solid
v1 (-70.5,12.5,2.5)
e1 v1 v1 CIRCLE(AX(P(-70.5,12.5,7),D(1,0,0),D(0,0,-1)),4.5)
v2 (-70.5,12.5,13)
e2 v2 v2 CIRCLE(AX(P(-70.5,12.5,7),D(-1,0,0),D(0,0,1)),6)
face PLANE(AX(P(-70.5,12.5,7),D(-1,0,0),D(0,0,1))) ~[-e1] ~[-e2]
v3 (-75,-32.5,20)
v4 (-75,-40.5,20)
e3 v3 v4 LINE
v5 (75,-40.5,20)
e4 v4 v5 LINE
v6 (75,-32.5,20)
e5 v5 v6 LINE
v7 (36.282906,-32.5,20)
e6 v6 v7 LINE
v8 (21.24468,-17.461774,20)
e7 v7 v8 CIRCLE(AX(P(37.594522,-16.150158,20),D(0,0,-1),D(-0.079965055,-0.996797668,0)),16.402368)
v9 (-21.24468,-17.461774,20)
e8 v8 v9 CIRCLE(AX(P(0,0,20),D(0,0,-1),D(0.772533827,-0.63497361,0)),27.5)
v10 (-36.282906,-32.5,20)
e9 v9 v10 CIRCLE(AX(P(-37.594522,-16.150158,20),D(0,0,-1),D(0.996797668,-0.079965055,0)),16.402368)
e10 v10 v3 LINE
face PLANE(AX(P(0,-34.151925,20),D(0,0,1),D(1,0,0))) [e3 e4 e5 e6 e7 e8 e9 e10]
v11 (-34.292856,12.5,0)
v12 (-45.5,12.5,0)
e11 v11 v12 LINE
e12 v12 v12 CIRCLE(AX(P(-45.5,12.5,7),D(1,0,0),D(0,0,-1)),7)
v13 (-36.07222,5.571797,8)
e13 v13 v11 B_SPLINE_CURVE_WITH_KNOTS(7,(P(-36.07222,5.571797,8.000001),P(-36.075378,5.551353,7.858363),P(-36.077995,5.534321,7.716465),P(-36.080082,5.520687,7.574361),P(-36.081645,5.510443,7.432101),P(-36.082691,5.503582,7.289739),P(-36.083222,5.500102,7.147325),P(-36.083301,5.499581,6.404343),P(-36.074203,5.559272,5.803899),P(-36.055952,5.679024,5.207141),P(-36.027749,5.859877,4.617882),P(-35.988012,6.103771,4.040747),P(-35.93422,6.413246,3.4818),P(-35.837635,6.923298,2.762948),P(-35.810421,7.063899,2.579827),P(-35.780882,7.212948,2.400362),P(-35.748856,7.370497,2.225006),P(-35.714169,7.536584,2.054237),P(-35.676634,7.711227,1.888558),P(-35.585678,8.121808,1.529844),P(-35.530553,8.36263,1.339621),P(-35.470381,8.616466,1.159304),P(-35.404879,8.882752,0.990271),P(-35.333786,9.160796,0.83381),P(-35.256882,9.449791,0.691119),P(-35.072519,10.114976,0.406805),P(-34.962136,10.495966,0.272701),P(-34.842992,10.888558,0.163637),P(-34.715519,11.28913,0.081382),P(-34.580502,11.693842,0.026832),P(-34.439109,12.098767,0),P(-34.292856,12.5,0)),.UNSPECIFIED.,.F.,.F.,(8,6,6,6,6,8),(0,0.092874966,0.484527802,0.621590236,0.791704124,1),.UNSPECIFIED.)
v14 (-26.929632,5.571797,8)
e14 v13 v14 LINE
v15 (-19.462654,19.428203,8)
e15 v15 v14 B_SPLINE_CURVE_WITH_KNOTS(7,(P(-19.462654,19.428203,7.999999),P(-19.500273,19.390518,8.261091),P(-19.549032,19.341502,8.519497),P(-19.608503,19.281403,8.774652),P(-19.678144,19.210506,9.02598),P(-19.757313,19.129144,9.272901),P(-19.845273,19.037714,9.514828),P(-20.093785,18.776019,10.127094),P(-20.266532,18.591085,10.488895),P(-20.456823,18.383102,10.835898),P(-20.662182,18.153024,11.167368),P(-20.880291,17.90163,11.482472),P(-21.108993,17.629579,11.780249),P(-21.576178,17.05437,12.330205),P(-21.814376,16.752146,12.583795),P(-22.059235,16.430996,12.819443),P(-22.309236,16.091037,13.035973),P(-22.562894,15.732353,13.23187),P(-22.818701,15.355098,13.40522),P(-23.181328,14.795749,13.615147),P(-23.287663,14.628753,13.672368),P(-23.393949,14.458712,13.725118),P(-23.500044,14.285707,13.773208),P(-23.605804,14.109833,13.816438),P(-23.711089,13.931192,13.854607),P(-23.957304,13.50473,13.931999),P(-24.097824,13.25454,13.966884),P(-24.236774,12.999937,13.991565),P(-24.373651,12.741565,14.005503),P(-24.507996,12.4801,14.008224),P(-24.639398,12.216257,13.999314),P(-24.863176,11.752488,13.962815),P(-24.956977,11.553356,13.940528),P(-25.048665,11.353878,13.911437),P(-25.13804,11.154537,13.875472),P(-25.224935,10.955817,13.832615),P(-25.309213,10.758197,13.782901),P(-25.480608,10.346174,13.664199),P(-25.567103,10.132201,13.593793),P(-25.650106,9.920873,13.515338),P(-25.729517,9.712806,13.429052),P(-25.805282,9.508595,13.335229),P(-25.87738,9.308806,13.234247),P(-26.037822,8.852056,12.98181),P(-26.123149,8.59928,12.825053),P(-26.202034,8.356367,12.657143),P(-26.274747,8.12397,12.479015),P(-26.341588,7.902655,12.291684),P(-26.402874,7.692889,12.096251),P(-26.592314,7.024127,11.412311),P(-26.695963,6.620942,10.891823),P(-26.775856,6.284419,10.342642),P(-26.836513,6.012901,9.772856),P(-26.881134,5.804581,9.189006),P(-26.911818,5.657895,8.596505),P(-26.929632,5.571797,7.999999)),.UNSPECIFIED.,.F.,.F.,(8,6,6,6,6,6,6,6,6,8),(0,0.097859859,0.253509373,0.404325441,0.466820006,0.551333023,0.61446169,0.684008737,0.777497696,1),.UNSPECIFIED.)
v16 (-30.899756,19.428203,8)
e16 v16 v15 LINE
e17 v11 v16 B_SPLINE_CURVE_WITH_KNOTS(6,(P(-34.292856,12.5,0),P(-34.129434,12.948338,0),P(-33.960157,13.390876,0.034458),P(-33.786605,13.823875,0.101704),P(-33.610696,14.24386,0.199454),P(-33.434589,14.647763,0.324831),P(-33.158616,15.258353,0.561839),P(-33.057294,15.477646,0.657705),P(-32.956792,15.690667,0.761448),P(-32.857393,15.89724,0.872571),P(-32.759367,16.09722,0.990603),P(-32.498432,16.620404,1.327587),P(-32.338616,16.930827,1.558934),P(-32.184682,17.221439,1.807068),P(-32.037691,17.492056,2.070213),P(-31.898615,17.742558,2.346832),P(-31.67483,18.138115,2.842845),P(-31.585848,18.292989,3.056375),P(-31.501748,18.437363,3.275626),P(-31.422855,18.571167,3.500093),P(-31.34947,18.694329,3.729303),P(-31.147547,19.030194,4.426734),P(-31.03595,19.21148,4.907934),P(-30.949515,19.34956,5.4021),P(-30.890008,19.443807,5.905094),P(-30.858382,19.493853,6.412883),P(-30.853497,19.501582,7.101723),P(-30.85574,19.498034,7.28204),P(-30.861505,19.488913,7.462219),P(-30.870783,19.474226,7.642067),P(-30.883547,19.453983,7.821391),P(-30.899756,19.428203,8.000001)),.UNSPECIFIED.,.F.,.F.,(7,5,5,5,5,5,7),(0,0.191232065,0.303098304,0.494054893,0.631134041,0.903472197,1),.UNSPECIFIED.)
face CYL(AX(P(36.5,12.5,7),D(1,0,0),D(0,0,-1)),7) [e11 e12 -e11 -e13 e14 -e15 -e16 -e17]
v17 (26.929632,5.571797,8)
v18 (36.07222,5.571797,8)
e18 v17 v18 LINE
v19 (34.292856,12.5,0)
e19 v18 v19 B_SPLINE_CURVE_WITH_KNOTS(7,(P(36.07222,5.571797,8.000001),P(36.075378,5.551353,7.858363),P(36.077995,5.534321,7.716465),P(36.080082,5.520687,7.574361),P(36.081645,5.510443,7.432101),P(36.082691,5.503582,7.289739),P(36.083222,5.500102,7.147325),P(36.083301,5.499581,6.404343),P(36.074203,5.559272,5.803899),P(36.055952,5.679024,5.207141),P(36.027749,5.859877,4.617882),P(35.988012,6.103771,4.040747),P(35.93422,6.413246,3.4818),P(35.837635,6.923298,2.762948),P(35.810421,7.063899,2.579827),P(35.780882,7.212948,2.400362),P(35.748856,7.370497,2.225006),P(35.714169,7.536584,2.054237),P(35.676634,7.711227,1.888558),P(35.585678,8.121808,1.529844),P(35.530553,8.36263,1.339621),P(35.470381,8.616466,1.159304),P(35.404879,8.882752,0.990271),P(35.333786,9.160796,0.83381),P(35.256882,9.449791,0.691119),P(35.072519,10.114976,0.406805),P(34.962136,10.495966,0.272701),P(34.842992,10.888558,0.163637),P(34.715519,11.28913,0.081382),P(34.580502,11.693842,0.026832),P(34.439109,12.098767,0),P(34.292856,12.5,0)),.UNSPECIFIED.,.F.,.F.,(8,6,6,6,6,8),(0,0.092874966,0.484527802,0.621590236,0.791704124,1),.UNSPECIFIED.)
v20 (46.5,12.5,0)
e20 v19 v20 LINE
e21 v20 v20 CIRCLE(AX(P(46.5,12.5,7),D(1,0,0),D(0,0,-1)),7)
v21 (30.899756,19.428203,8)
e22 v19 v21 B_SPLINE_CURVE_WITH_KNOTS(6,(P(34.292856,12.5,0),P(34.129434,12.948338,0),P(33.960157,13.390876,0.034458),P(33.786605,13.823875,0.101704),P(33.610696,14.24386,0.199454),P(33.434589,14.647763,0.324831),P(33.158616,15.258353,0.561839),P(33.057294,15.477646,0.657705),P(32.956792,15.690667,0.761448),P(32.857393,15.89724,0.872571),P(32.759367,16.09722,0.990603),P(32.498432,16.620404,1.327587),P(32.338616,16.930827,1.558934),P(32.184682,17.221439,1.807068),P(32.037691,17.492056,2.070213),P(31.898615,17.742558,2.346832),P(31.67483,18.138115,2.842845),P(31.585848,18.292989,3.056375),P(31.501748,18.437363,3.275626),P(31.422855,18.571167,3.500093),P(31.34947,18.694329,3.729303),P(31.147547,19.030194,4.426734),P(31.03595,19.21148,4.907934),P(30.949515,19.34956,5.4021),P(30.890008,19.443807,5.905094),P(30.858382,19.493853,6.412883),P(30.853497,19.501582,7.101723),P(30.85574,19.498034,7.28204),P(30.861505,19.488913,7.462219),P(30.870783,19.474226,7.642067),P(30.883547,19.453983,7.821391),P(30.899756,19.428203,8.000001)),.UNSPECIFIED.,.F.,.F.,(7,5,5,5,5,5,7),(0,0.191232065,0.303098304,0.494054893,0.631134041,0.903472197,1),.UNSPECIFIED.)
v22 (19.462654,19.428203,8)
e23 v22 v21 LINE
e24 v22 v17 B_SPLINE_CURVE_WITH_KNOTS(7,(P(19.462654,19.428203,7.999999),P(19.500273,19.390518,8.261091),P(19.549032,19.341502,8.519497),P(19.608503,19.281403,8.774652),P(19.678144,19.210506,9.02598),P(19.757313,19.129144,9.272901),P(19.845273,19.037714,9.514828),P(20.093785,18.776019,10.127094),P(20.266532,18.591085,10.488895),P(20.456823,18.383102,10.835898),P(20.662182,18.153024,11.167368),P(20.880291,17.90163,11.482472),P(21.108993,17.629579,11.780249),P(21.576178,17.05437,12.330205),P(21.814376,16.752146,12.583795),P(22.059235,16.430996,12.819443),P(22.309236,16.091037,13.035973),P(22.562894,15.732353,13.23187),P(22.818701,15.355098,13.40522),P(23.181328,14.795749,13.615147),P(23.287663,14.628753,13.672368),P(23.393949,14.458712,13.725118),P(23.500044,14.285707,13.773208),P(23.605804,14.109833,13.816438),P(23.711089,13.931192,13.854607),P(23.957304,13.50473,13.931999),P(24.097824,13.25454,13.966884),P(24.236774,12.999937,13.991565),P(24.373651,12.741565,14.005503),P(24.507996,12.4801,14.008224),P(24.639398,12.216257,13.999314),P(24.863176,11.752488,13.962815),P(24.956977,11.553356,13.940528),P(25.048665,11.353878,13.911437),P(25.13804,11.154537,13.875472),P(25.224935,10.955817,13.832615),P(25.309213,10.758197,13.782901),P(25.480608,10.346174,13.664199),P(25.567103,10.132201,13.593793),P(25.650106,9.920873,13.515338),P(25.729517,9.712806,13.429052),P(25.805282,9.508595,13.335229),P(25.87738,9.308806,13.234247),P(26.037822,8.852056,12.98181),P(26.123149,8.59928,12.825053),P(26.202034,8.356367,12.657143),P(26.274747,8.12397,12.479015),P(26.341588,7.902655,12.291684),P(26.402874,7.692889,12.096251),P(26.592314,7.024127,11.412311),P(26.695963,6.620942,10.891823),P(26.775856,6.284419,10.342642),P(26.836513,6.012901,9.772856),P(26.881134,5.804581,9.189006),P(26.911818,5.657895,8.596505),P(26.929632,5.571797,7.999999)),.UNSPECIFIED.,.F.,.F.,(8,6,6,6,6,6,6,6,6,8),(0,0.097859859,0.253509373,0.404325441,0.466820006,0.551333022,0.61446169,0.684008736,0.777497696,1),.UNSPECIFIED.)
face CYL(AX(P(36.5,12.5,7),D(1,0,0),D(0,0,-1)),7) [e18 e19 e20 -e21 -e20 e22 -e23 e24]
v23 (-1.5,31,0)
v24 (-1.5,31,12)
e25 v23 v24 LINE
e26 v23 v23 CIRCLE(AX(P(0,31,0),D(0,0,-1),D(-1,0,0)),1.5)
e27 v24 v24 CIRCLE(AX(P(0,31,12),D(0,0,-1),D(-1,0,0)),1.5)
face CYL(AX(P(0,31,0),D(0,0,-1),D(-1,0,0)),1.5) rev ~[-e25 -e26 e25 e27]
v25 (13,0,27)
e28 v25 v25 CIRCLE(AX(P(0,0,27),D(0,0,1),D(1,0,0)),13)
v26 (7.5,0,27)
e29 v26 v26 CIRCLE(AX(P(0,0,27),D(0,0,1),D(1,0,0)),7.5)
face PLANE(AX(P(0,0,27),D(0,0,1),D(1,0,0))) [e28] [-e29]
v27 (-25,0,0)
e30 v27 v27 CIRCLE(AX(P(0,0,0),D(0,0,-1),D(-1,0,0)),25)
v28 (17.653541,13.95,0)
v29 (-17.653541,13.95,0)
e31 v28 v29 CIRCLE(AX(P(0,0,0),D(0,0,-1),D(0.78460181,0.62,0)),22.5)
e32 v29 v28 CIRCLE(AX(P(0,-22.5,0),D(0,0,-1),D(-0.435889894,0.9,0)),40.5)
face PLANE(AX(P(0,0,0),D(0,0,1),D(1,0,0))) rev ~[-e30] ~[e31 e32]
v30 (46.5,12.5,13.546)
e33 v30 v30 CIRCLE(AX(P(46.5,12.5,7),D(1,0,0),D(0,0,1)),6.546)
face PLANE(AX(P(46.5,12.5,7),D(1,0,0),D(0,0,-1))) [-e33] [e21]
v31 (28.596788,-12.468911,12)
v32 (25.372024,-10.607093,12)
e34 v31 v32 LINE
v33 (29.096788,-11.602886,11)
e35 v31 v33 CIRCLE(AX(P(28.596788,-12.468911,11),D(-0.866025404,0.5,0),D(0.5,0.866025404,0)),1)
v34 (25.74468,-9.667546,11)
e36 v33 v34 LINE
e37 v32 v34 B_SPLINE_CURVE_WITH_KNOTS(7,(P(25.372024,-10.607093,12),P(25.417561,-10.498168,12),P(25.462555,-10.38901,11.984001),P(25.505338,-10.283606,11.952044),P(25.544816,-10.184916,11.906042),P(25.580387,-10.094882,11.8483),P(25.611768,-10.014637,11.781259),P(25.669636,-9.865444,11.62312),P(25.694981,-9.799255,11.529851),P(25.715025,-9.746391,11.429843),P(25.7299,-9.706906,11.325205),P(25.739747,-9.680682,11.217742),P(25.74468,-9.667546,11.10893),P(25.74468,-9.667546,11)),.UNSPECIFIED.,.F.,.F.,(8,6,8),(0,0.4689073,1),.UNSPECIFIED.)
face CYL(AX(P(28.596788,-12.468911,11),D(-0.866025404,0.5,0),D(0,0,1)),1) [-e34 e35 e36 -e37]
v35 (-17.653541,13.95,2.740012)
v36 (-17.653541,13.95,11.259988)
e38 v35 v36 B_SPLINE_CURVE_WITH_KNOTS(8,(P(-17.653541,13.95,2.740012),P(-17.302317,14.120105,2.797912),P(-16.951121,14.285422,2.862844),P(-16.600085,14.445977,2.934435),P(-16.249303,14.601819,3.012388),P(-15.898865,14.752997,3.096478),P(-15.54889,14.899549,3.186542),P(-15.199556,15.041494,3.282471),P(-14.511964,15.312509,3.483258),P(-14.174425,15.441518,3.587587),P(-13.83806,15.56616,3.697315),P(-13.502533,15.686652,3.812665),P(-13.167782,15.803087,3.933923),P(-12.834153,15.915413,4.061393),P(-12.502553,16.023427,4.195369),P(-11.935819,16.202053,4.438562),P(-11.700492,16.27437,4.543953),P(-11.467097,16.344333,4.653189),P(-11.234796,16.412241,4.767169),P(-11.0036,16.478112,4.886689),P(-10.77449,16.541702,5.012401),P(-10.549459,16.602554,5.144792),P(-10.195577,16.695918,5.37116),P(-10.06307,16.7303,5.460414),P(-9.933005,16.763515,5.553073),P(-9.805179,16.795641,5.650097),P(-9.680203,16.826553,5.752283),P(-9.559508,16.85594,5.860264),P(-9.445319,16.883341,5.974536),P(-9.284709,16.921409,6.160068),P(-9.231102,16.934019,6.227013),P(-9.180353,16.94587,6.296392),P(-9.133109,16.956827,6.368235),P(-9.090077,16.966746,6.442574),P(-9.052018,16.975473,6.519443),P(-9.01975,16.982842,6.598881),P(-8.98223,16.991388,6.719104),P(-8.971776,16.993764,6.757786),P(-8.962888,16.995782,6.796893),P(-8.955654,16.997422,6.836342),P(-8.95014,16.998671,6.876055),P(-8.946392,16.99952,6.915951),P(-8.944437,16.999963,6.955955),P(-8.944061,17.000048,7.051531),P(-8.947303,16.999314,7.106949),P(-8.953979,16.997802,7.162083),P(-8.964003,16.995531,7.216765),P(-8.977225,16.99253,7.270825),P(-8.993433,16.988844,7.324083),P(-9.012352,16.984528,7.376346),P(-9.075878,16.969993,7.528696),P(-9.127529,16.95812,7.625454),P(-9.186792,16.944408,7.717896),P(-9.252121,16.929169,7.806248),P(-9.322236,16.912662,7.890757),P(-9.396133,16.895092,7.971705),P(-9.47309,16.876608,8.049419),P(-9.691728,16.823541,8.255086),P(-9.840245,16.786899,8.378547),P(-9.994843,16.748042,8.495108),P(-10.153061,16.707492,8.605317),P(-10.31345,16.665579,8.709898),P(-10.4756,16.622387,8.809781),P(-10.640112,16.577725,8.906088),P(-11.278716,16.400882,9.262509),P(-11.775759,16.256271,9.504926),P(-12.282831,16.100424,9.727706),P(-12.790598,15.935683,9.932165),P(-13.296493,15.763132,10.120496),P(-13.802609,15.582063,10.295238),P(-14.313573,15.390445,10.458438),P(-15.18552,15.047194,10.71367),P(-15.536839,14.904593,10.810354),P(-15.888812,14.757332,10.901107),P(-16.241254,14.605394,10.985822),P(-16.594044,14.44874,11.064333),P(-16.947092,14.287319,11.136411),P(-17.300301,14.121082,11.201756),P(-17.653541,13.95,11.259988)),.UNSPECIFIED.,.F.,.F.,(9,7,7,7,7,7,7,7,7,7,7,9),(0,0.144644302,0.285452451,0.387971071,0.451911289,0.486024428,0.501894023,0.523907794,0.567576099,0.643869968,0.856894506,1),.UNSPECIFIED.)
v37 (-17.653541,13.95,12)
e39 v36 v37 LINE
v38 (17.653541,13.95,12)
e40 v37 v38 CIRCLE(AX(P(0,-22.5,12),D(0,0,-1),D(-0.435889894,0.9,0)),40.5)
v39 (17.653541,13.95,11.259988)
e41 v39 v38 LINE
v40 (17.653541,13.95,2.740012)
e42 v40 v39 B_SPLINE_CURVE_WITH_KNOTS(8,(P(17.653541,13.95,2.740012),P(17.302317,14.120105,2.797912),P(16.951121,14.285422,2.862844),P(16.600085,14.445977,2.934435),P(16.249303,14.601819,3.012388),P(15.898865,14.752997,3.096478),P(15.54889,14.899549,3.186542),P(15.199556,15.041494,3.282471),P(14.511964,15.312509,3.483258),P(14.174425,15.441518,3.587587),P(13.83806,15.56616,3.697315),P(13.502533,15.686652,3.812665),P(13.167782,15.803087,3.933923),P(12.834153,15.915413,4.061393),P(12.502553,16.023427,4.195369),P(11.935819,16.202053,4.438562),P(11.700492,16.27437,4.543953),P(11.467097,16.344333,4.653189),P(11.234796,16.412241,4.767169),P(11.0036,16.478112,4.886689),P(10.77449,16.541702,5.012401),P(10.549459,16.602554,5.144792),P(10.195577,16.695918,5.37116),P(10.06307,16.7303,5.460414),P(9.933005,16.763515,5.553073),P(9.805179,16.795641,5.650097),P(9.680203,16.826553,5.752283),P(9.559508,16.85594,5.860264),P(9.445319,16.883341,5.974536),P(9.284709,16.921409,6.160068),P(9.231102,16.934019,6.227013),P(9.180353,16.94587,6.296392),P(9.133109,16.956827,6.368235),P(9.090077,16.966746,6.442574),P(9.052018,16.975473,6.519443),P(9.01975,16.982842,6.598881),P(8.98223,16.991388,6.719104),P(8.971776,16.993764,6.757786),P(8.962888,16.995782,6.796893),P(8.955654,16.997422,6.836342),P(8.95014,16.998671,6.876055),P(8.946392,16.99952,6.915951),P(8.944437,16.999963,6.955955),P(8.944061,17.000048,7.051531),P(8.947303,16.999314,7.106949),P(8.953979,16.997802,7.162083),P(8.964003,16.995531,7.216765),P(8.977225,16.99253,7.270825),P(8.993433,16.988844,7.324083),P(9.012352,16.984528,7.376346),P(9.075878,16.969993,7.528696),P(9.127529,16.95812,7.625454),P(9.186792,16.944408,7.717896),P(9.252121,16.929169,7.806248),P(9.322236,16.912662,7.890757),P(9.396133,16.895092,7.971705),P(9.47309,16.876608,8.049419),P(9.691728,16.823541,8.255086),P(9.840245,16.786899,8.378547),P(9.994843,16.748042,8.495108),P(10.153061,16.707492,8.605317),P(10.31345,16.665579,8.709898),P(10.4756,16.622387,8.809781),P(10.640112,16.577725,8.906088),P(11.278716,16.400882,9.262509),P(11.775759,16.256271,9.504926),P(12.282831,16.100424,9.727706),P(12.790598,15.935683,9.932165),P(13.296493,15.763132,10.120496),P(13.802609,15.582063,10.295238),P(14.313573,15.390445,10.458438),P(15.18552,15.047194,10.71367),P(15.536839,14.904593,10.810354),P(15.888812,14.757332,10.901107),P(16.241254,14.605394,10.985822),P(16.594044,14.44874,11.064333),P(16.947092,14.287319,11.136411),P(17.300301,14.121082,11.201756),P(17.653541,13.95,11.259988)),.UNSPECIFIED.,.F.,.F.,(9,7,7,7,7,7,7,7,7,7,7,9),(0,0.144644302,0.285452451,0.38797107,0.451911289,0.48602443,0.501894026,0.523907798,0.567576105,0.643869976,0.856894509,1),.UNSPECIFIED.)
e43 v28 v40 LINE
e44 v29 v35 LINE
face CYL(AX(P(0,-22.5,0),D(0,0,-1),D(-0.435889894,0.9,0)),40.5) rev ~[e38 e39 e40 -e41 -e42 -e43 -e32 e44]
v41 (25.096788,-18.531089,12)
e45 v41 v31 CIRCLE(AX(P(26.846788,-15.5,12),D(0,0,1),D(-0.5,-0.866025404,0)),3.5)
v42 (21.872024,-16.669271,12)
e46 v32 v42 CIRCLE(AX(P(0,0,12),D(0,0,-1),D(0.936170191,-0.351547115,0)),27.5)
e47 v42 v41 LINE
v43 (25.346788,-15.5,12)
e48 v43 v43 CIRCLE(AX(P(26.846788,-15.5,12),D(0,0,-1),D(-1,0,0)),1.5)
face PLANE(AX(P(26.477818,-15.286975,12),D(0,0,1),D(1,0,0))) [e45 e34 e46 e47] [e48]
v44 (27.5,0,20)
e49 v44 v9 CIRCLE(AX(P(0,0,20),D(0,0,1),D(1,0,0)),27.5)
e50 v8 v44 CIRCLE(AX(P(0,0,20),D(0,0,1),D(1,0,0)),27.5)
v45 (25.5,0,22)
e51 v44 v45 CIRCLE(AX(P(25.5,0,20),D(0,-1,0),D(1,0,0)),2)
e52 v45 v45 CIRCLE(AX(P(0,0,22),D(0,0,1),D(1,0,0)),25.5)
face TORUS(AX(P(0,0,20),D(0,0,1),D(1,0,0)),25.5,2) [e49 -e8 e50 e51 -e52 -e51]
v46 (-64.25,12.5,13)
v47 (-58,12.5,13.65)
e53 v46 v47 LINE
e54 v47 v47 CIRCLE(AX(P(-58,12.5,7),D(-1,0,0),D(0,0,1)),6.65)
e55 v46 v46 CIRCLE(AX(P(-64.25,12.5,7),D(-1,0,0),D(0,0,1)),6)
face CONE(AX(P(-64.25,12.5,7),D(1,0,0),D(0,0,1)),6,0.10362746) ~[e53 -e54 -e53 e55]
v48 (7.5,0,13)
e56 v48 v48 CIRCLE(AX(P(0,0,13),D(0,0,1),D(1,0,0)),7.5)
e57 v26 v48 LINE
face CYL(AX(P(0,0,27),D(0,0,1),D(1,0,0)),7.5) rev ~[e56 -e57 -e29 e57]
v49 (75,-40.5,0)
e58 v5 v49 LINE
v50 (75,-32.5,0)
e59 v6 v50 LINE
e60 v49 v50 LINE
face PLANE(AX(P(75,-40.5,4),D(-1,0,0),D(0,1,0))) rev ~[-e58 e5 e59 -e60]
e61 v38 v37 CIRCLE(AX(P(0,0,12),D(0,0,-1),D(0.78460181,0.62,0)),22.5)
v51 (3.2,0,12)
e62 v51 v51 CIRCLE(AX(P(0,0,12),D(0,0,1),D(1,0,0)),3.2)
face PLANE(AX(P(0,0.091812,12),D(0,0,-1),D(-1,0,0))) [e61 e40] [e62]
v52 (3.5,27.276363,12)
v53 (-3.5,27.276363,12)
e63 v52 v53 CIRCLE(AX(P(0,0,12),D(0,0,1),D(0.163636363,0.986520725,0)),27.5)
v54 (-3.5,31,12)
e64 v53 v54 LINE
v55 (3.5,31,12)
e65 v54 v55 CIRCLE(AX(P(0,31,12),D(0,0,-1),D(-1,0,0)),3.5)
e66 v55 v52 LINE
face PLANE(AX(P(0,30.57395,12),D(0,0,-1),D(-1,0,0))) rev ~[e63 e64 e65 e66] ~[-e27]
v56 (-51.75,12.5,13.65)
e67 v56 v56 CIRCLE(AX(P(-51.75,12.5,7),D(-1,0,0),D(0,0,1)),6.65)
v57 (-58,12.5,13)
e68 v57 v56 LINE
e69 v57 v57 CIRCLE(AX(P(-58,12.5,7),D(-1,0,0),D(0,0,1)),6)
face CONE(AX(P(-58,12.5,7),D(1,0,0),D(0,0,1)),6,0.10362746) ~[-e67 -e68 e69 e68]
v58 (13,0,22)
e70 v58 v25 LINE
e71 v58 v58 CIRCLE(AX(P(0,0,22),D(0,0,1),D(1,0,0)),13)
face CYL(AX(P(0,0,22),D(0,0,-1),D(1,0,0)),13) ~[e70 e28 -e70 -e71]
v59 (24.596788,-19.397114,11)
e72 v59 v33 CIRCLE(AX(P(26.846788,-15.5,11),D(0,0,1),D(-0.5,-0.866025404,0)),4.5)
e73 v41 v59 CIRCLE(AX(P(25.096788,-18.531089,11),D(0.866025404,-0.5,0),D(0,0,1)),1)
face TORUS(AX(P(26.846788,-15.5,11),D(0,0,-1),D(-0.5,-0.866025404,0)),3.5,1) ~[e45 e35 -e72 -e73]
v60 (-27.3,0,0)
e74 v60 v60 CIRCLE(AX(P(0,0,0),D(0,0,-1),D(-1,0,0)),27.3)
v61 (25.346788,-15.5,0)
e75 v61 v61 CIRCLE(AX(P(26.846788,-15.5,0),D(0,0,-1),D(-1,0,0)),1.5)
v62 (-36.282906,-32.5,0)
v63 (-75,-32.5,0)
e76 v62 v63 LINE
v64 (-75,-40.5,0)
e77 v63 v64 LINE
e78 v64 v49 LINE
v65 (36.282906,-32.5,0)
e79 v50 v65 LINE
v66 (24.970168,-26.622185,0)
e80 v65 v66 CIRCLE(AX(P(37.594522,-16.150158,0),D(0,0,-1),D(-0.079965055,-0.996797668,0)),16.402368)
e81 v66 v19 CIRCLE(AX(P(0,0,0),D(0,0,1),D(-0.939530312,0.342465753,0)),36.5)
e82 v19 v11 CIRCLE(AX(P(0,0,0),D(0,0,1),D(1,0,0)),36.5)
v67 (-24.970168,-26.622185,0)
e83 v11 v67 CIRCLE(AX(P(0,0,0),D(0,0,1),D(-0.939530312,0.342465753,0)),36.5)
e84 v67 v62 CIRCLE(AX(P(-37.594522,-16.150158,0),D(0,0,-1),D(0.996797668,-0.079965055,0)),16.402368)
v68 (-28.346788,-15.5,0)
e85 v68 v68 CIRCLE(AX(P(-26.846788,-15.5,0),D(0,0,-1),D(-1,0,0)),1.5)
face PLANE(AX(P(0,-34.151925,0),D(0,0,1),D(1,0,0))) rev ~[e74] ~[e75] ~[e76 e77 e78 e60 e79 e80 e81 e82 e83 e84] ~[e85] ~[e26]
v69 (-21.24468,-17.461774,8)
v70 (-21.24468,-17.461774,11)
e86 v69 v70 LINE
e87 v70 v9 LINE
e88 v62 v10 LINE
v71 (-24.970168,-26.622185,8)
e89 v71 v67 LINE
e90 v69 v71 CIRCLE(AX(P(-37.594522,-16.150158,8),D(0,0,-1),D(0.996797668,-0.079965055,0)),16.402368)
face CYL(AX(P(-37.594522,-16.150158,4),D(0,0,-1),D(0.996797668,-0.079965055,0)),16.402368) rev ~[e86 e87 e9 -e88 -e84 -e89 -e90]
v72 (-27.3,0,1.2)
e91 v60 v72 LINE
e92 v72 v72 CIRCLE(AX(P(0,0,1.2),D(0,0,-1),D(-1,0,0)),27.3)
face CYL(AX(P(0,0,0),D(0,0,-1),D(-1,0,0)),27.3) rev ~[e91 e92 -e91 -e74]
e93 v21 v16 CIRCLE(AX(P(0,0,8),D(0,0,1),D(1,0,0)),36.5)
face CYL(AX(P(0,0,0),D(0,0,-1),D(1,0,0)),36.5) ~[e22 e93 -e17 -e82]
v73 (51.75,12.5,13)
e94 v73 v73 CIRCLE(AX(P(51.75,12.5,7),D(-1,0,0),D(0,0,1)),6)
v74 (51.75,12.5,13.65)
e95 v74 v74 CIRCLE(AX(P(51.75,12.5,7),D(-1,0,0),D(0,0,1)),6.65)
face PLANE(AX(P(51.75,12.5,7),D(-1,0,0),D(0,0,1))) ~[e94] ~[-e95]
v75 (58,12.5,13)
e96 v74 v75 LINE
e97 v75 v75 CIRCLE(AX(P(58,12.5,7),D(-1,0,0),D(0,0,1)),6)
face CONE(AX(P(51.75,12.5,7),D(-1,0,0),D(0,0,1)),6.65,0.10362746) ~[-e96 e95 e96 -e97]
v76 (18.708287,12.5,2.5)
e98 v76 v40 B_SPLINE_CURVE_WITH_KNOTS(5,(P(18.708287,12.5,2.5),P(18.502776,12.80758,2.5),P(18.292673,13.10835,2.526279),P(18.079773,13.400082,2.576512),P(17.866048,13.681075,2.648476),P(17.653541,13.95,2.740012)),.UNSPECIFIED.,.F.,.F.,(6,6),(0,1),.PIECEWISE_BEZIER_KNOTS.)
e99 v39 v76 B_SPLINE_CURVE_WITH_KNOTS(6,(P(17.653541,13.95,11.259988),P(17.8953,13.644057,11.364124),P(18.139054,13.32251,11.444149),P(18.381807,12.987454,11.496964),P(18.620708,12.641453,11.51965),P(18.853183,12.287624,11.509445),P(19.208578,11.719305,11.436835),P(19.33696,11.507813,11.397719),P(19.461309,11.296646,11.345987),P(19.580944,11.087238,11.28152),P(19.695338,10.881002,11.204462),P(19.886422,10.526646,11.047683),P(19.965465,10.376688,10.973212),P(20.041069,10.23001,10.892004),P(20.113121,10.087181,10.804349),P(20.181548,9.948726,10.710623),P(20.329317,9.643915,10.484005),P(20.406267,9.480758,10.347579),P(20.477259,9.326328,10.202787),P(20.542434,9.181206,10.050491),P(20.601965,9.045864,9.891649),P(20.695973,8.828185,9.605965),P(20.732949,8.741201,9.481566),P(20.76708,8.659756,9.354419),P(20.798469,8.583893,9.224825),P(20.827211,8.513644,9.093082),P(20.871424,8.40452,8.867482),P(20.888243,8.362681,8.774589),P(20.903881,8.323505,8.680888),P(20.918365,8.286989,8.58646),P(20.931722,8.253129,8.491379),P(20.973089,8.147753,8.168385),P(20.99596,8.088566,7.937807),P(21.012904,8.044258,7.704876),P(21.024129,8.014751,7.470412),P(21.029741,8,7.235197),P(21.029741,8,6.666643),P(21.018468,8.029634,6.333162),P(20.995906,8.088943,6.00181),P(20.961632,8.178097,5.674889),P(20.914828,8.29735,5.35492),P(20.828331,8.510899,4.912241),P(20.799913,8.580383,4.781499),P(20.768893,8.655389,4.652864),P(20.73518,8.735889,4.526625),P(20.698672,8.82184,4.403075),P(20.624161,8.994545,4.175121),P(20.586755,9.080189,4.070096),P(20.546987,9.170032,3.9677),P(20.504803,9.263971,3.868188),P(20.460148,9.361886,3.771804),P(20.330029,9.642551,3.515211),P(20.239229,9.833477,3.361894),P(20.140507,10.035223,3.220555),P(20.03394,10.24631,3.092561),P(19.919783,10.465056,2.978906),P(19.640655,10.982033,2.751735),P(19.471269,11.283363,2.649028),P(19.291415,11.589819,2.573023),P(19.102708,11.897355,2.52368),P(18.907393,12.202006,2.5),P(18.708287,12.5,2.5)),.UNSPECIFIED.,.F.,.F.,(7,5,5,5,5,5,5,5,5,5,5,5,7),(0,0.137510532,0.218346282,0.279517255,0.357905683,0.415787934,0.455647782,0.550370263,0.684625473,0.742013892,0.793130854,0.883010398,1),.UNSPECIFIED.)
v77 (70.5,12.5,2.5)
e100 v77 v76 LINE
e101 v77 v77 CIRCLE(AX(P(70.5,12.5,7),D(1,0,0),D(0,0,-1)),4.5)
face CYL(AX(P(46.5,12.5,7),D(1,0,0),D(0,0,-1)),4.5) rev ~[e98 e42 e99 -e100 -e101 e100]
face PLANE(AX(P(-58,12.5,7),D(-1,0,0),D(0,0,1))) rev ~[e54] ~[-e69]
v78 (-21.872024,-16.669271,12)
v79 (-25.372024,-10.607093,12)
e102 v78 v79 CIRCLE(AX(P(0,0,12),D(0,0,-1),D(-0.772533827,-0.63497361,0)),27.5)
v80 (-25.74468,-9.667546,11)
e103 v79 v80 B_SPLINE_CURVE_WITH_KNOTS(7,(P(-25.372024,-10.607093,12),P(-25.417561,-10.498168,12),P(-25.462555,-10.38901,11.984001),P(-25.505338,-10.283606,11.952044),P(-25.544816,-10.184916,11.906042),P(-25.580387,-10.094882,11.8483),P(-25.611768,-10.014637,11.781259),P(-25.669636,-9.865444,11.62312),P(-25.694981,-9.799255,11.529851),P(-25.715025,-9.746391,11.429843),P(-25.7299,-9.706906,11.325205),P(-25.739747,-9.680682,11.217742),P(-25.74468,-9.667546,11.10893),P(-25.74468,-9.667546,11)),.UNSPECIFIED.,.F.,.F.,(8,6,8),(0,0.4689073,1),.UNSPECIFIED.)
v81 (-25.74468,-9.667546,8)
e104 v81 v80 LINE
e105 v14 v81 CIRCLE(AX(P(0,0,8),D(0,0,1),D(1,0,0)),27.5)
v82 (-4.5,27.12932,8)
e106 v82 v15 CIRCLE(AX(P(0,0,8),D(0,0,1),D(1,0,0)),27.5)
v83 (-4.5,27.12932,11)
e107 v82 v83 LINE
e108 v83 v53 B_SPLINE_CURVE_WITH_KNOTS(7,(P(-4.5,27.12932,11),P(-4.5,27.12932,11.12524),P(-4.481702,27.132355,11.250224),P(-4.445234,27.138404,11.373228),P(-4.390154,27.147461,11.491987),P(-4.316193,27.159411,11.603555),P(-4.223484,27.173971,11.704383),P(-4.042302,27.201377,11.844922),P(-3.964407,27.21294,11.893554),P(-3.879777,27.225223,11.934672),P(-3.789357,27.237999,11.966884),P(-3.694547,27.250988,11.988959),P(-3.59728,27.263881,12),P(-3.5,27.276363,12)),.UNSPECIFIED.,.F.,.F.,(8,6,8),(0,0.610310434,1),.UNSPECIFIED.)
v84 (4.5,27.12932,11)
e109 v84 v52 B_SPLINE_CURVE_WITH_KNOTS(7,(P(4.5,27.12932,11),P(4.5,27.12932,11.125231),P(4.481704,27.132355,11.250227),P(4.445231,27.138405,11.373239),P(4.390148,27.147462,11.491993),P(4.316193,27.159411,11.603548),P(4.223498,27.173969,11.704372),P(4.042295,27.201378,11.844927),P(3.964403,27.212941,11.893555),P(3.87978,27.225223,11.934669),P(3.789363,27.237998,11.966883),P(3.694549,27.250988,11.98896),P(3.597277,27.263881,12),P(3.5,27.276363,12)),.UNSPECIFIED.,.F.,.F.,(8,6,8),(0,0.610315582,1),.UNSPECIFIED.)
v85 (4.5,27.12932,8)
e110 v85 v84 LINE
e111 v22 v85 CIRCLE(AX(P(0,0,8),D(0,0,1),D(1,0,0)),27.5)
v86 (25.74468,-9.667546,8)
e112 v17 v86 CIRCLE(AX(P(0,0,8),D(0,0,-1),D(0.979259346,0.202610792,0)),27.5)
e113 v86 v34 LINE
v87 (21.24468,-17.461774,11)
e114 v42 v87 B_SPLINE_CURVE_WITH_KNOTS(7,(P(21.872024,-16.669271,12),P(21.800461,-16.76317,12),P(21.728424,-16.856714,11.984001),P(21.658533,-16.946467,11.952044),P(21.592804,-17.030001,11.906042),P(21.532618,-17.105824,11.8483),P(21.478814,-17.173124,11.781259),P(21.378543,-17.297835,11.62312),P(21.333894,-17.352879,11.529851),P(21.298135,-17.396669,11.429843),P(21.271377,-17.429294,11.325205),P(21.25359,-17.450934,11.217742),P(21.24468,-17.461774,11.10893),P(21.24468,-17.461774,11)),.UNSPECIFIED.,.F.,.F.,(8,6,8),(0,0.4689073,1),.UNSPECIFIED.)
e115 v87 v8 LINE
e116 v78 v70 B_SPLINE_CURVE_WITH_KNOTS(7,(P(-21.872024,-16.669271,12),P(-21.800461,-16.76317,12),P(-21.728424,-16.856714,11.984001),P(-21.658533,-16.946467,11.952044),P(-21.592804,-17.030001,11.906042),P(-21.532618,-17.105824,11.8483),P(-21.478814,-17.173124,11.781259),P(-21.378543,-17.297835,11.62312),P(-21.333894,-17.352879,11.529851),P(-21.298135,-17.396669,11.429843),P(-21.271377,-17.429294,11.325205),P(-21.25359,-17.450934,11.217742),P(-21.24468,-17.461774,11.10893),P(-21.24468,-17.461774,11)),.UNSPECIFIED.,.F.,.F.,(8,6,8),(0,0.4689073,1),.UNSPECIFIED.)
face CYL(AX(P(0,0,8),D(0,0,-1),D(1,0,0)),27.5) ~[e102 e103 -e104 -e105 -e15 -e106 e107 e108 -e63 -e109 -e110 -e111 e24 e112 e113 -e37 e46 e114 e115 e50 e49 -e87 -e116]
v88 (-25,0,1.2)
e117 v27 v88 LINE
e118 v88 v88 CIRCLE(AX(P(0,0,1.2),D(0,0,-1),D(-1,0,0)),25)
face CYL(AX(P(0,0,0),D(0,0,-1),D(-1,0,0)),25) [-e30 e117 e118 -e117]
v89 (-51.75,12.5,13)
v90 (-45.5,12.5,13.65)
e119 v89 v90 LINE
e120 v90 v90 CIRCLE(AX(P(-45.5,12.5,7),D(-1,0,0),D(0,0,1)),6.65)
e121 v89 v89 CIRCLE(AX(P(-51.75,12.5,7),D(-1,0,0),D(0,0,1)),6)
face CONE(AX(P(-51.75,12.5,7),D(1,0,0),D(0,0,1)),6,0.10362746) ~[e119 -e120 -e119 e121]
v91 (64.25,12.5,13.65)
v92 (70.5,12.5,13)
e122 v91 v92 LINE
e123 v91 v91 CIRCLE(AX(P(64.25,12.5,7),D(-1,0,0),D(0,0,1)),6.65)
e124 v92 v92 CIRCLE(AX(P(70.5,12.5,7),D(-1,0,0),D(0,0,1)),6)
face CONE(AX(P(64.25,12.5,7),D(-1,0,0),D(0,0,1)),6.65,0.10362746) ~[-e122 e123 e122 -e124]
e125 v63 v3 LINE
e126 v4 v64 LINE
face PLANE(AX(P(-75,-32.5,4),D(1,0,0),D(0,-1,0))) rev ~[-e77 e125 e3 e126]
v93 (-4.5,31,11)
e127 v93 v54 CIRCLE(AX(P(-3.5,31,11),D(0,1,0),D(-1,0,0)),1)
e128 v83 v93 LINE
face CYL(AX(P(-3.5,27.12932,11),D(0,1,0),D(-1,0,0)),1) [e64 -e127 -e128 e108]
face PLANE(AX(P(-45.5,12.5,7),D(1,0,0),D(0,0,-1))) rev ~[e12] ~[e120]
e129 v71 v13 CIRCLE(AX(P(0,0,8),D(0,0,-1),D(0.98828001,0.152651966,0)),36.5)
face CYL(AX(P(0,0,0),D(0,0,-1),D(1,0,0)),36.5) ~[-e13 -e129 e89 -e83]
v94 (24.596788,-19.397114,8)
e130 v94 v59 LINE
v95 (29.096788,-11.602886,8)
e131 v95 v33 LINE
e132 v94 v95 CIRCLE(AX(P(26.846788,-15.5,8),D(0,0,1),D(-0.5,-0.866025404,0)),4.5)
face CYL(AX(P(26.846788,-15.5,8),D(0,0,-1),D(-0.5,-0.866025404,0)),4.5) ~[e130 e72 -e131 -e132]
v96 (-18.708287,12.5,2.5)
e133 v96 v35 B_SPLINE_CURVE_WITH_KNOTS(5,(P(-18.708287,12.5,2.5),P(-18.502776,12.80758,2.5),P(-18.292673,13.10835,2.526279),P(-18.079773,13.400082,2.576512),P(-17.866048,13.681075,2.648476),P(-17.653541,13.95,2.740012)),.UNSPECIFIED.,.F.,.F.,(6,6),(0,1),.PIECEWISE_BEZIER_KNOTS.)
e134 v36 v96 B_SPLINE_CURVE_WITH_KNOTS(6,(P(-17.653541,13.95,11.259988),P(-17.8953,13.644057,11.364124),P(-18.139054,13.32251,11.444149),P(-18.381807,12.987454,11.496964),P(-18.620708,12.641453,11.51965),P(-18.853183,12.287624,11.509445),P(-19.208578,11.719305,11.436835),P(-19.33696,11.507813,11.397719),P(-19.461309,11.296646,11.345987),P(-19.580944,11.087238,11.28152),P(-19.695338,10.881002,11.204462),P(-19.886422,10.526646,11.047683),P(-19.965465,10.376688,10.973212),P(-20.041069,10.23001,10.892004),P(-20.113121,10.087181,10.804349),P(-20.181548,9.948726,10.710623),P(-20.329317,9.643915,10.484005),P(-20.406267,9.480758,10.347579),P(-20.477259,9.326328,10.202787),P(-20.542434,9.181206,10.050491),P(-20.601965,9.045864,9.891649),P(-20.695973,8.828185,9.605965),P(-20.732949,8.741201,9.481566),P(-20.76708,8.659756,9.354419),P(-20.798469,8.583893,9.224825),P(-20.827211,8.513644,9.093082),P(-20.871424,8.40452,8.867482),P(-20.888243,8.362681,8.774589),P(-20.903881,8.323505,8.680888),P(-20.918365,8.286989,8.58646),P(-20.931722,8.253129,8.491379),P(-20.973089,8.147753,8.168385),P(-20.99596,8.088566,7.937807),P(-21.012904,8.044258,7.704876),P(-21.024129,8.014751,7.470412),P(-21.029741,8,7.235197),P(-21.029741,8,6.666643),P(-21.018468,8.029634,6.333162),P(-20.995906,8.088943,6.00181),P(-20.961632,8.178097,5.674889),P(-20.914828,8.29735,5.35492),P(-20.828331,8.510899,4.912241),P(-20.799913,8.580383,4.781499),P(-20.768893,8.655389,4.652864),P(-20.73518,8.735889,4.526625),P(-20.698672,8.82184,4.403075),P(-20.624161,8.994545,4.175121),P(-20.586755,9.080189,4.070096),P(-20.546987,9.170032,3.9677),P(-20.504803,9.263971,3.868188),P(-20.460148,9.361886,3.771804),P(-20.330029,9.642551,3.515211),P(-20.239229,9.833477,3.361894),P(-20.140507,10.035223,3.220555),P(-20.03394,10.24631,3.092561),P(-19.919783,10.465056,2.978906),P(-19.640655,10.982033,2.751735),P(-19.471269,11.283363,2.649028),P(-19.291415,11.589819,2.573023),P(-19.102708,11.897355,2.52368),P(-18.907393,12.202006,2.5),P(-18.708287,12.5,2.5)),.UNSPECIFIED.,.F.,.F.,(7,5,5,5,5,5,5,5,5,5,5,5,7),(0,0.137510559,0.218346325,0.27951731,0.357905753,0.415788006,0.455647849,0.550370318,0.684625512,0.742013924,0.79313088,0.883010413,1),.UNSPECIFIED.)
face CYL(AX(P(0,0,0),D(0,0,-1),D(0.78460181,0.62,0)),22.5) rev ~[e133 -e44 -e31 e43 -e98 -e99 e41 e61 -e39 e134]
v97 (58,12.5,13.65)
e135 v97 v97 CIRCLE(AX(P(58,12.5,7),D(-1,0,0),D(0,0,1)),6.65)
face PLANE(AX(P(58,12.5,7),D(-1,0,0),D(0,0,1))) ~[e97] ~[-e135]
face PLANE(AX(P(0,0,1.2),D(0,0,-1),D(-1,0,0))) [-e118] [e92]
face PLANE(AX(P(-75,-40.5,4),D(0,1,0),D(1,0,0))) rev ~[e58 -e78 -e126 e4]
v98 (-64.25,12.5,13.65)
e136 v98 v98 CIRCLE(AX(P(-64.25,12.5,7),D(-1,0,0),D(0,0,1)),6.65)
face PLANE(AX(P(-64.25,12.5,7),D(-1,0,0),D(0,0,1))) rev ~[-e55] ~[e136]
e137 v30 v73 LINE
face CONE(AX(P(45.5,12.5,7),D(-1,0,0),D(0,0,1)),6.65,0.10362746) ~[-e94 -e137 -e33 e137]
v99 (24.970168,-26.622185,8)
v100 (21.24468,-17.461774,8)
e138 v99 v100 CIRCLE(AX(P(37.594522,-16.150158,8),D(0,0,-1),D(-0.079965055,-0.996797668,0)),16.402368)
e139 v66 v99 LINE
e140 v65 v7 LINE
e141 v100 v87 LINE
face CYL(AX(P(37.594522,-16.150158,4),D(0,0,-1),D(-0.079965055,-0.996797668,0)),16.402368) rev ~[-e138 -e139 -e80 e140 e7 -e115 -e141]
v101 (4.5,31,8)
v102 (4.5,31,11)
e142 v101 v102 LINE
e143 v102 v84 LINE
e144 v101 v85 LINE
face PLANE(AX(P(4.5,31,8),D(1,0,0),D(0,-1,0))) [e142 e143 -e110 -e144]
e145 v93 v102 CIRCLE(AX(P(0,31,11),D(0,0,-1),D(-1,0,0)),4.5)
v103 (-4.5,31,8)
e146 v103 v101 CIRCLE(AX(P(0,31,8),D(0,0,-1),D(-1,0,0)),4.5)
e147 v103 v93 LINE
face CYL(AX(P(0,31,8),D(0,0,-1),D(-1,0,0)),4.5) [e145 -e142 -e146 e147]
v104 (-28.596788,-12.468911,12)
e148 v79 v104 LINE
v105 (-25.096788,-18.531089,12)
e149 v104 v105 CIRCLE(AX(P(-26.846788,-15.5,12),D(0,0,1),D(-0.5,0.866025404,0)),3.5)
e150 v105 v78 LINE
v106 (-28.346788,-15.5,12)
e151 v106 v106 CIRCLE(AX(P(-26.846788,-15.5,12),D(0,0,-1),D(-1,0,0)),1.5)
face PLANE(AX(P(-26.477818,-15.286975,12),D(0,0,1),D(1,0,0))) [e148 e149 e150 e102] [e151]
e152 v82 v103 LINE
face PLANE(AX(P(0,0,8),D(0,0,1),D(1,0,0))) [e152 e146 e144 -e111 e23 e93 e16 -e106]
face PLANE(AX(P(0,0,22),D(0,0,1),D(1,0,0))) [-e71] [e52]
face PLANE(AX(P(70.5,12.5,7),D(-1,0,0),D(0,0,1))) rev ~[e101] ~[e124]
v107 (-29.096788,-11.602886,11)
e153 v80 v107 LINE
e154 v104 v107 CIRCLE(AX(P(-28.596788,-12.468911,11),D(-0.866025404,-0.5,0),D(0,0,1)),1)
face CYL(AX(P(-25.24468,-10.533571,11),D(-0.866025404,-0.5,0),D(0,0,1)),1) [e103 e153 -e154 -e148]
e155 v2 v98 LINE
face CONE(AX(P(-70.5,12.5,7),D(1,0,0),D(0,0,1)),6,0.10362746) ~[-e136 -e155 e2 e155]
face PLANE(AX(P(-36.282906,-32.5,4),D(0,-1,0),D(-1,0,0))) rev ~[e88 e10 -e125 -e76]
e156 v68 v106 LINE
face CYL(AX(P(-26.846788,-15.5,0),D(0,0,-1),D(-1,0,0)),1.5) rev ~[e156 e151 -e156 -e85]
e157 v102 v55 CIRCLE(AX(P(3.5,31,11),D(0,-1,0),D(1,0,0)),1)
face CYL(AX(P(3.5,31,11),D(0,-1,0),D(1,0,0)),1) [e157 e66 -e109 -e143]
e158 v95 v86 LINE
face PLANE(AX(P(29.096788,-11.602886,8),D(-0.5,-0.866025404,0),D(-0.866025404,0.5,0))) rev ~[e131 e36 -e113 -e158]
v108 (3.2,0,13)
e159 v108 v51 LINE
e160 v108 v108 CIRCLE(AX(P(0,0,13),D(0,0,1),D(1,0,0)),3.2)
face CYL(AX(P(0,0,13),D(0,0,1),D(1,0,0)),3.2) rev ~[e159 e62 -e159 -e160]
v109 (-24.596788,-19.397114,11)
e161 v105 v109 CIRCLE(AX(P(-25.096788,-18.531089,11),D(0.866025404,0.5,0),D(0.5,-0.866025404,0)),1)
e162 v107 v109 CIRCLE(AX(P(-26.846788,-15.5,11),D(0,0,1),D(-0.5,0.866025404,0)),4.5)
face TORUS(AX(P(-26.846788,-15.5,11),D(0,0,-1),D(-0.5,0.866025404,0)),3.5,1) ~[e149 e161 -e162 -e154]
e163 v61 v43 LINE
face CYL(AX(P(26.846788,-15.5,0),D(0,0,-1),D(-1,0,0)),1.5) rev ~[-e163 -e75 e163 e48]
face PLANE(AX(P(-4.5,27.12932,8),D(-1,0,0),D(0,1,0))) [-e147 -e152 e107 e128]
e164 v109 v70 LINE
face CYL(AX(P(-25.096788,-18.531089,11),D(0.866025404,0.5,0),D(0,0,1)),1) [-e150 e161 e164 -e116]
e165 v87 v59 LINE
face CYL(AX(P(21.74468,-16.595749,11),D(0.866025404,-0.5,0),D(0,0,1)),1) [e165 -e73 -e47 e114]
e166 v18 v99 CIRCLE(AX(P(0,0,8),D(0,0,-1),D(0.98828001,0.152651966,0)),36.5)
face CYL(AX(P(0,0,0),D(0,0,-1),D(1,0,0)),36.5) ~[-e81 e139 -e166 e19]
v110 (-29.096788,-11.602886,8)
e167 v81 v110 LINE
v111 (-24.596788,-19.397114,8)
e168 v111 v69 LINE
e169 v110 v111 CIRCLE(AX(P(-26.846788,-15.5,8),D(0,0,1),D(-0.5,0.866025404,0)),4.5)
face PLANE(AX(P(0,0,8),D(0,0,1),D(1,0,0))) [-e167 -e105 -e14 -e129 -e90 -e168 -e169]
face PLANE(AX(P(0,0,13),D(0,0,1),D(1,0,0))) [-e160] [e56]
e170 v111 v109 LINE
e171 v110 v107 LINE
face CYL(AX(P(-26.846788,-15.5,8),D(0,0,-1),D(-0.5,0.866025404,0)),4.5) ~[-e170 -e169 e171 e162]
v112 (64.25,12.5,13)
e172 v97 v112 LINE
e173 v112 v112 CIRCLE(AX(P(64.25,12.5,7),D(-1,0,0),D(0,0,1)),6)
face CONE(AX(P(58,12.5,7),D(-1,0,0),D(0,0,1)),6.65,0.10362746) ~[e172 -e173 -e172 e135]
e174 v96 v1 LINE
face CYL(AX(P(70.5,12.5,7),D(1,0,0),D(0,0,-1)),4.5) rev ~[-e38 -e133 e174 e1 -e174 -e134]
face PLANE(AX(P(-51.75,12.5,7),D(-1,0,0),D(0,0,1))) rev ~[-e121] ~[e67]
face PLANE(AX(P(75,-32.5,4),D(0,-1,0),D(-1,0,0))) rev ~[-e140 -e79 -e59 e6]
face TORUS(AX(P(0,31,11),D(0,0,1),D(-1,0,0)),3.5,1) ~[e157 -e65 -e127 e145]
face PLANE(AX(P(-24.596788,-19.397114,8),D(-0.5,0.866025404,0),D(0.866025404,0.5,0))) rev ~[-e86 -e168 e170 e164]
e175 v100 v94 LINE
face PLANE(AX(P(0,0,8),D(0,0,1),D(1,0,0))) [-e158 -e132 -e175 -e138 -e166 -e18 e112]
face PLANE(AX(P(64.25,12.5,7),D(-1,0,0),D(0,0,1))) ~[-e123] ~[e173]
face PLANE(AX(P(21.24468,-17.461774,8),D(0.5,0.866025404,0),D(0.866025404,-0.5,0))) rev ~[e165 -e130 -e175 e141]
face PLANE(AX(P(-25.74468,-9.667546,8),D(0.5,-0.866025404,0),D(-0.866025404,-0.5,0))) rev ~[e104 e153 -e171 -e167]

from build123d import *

# Parameters (mm, degrees)
SKETCH1_R                = 36.5
BOSS_EXTRUDE1_DEPTH      = 8
SKETCH2_R                = 27.5
BOSS_EXTRUDE2_DEPTH      = 14
SKETCH3_R                = 13
BOSS_EXTRUDE3_DEPTH      = 5
SKETCH4_R                = 7.5
CUT_EXTRUDE1_DEPTH       = 14
SKETCH6_R                = 7
BOSS_EXTRUDE4_DEPTH      = 10
BOSS_EXTRUDE4_DEPTH_BACK = 82
CUT_EXTRUDE2_DEPTH       = 12
SKETCH11_R               = 1.5
CUT_EXTRUDE4_DEPTH       = 28
FILLET1_R                = 2
SKETCH10_R               = 4.5
CUT_EXTRUDE5_DEPTH       = 93.0000001
SKETCH12_R               = 3.2
CUT_EXTRUDE6_DEPTH       = 14.0000001
SKETCH13_R               = 27.3
SKETCH13_R_2             = 25
CUT_EXTRUDE7_DEPTH       = 1.2
BOSS_EXTRUDE5_DEPTH      = 4
FILLET2_R                = 1
SKETCH15_R               = 1.5
CUT_EXTRUDE8_DEPTH       = 28
SKETCH16_W               = 25
SKETCH16_H               = 5.2
SKETCH17_R               = 4.5
CUT_EXTRUDE9_DEPTH       = 142
BOSS_EXTRUDE7_DEPTH      = 4
BOSS_EXTRUDE7_DEPTH_BACK = 16


with BuildPart() as part:
    # Sketch1 → Boss-Extrude1 (new body)
    with BuildSketch(Plane.XY):
        Circle(SKETCH1_R)
    extrude(amount=BOSS_EXTRUDE1_DEPTH)

    # Sketch2 → Boss-Extrude2 (add)
    with BuildSketch(Plane.XY.offset(8)):
        Circle(SKETCH2_R)
    extrude(amount=BOSS_EXTRUDE2_DEPTH)

    # Sketch3 → Boss-Extrude3 (add)
    with BuildSketch(Plane.XY.offset(22)):
        Circle(SKETCH3_R)
    extrude(amount=BOSS_EXTRUDE3_DEPTH)

    # Sketch4 → Cut-Extrude1 (cut)
    with BuildSketch(Plane.XY.offset(27)):
        Circle(SKETCH4_R)
    extrude(amount=-CUT_EXTRUDE1_DEPTH, mode=Mode.SUBTRACT)

    # Sketch6 → Boss-Extrude4 (add, two sides)
    with BuildSketch(Plane(origin=(36.5, 0, 0), x_dir=(0, 0, -1), z_dir=(1, 0, 0))) as boss_extrude4_sk:
        with Locations((-7, 12.5)):
            Circle(SKETCH6_R)
    extrude(amount=BOSS_EXTRUDE4_DEPTH)
    extrude(boss_extrude4_sk.sketch, amount=-BOSS_EXTRUDE4_DEPTH_BACK)

    # Sketch8 → Cut-Extrude2 (cut)
    with BuildSketch(Plane(origin=(0, 0, 0), x_dir=(-1, 0, 0), z_dir=(0, 0, -1))):
        with BuildLine():
            ThreePointArc((-17.653540721, 13.95), (0, -22.5), (17.653540721, 13.95))
            ThreePointArc((17.653540721, 13.95), (0, 18), (-17.653540721, 13.95))
        make_face()
    extrude(amount=-CUT_EXTRUDE2_DEPTH, mode=Mode.SUBTRACT)

    # Sketch11 → Cut-Extrude4 (cut, through all)
    with BuildSketch(Plane(origin=(0, 0, 0), x_dir=(-1, 0, 0), z_dir=(0, 0, -1))):
        with Locations((0, 31)):
            Circle(SKETCH11_R)
        with Locations((26.846787517, -15.5)):
            Circle(SKETCH11_R)
        with Locations((-26.846787517, -15.5)):
            Circle(SKETCH11_R)
    extrude(amount=-CUT_EXTRUDE4_DEPTH, mode=Mode.SUBTRACT)

    # Fillet1
    fillet1_edges = [part.edges().sort_by_distance(p)[0] for p in [
        (-27.5, 0, 22),
    ]]
    fillet(fillet1_edges, radius=FILLET1_R)

    # Sketch10 → Cut-Extrude5 (cut, through all)
    with BuildSketch(Plane(origin=(46.5, 0, 0), x_dir=(0, 0, -1), z_dir=(1, 0, 0))):
        with Locations((-7, 12.5)):
            Circle(SKETCH10_R)
    extrude(amount=-CUT_EXTRUDE5_DEPTH, mode=Mode.SUBTRACT)

    # Sketch12 → Cut-Extrude6 (cut, through all)
    with BuildSketch(Plane.XY.offset(13)):
        Circle(SKETCH12_R)
    extrude(amount=-CUT_EXTRUDE6_DEPTH, mode=Mode.SUBTRACT)

    # Sketch13 → Cut-Extrude7 (cut)
    with BuildSketch(Plane(origin=(0, 0, 0), x_dir=(-1, 0, 0), z_dir=(0, 0, -1))):
        Circle(SKETCH13_R)
        Circle(SKETCH13_R_2, mode=Mode.SUBTRACT)
    extrude(amount=-CUT_EXTRUDE7_DEPTH, mode=Mode.SUBTRACT)

    # Sketch14 → Boss-Extrude5 (add)
    with BuildSketch(Plane.XY.offset(8)):
        with BuildLine():
            Line((4.5, 31), (4.5, 27.129319933))
            ThreePointArc((4.5, 27.129319933), (0, 27.5), (-4.5, 27.129319933))
            Line((-4.5, 27.129319933), (-4.5, 31))
            ThreePointArc((-4.5, 31), (0, 35.5), (4.5, 31))
        make_face()
        with BuildLine():
            Line((29.096787517, -11.602885683), (25.744680249, -9.667545649))
            ThreePointArc((25.744680249, -9.667545649), (23.815698604, -13.75), (21.244680249, -17.461774283))
            Line((21.244680249, -17.461774283), (24.596787517, -19.397114317))
            ThreePointArc((24.596787517, -19.397114317), (30.743901834, -17.75), (29.096787517, -11.602885683))
        make_face()
        with BuildLine():
            Line((-24.596787517, -19.397114317), (-21.244680249, -17.461774283))
            ThreePointArc((-21.244680249, -17.461774283), (-23.815698604, -13.75), (-25.744680249, -9.667545649))
            Line((-25.744680249, -9.667545649), (-29.096787517, -11.602885683))
            ThreePointArc((-29.096787517, -11.602885683), (-30.743901834, -17.75), (-24.596787517, -19.397114317))
        make_face()
    extrude(amount=BOSS_EXTRUDE5_DEPTH)

    # Fillet2
    fillet2_edges = [part.edges().sort_by_distance(p)[0] for p in [
        (30.743901834, -17.75, 12),
        (27.420733883, -10.635215666, 12),
        (22.920733883, -18.4294443, 12),
        (-30.743901834, -17.75, 12),
        (-22.920733883, -18.4294443, 12),
        (-27.420733883, -10.635215666, 12),
        (0, 35.5, 12),
        (-4.5, 29.064659966, 12),
        (4.5, 29.064659966, 12),
    ]]
    fillet(fillet2_edges, radius=FILLET2_R)

    # Sketch15 → Cut-Extrude8 (cut, through all)
    with BuildSketch(Plane(origin=(0, 0, 0), x_dir=(-1, 0, 0), z_dir=(0, 0, -1))):
        with Locations((0, 31)):
            Circle(SKETCH15_R)
        with Locations((26.846787517, -15.5)):
            Circle(SKETCH15_R)
        with Locations((-26.846787517, -15.5)):
            Circle(SKETCH15_R)
    extrude(amount=-CUT_EXTRUDE8_DEPTH, mode=Mode.SUBTRACT)

    # Sketch16 → Revolve1 (revolve)
    with BuildSketch(Plane(origin=(0, 12.5, 0), x_dir=(1, 0, 0), z_dir=(0, 1, 0))):
        with Locations((-58, -9.6)):
            Rectangle(SKETCH16_W, SKETCH16_H)
        Polygon((-70.5, -12.2), (-70.5, -13), (-64.25, -13.65), (-64.25, -13), (-58, -13.65), (-58, -13), (-51.75, -13.65), (-51.75, -13), (-45.5, -13.65), (-45.5, -13), (-45.5, -12.2), align=None)
        Polygon((70.5, -13), (70.5, -7), (45.5, -7), (45.5, -13), (45.5, -13.65), (51.75, -13), (51.75, -13.65), (58, -13), (58, -13.65), (64.25, -13), (64.25, -13.65), align=None)
    revolve(axis=Axis((70.5, 12.5, 7), (-1, 0, 0)))

    # Sketch17 → Cut-Extrude9 (cut, through all)
    with BuildSketch(Plane(origin=(70.5, 0, 0), x_dir=(0, 0, -1), z_dir=(1, 0, 0))):
        with Locations((-7, 12.5)):
            Circle(SKETCH17_R)
    extrude(amount=-CUT_EXTRUDE9_DEPTH, mode=Mode.SUBTRACT)

    # Sketch18 → Boss-Extrude7 (add, two sides)
    with BuildSketch(Plane(origin=(0, 0, 4), x_dir=(-1, 0, 0), z_dir=(0, 0, -1))) as boss_extrude7_sk:
        with BuildLine():
            Line((-75, -32.5), (-36.282905966, -32.5))
            ThreePointArc((-36.282905966, -32.5), (-25.996296714, -27.748383535), (-21.244680249, -17.461774283))
            ThreePointArc((-21.244680249, -17.461774283), (0, -27.5), (21.244680249, -17.461774283))
            ThreePointArc((21.244680249, -17.461774283), (25.996296714, -27.748383535), (36.282905966, -32.5))
            Line((36.282905966, -32.5), (75, -32.5))
            Line((75, -32.5), (75, -40.5))
            Line((75, -40.5), (-75, -40.5))
            Line((-75, -40.5), (-75, -32.5))
        make_face()
    extrude(amount=BOSS_EXTRUDE7_DEPTH)
    extrude(boss_extrude7_sk.sketch, amount=-BOSS_EXTRUDE7_DEPTH_BACK)


solid = part.part
